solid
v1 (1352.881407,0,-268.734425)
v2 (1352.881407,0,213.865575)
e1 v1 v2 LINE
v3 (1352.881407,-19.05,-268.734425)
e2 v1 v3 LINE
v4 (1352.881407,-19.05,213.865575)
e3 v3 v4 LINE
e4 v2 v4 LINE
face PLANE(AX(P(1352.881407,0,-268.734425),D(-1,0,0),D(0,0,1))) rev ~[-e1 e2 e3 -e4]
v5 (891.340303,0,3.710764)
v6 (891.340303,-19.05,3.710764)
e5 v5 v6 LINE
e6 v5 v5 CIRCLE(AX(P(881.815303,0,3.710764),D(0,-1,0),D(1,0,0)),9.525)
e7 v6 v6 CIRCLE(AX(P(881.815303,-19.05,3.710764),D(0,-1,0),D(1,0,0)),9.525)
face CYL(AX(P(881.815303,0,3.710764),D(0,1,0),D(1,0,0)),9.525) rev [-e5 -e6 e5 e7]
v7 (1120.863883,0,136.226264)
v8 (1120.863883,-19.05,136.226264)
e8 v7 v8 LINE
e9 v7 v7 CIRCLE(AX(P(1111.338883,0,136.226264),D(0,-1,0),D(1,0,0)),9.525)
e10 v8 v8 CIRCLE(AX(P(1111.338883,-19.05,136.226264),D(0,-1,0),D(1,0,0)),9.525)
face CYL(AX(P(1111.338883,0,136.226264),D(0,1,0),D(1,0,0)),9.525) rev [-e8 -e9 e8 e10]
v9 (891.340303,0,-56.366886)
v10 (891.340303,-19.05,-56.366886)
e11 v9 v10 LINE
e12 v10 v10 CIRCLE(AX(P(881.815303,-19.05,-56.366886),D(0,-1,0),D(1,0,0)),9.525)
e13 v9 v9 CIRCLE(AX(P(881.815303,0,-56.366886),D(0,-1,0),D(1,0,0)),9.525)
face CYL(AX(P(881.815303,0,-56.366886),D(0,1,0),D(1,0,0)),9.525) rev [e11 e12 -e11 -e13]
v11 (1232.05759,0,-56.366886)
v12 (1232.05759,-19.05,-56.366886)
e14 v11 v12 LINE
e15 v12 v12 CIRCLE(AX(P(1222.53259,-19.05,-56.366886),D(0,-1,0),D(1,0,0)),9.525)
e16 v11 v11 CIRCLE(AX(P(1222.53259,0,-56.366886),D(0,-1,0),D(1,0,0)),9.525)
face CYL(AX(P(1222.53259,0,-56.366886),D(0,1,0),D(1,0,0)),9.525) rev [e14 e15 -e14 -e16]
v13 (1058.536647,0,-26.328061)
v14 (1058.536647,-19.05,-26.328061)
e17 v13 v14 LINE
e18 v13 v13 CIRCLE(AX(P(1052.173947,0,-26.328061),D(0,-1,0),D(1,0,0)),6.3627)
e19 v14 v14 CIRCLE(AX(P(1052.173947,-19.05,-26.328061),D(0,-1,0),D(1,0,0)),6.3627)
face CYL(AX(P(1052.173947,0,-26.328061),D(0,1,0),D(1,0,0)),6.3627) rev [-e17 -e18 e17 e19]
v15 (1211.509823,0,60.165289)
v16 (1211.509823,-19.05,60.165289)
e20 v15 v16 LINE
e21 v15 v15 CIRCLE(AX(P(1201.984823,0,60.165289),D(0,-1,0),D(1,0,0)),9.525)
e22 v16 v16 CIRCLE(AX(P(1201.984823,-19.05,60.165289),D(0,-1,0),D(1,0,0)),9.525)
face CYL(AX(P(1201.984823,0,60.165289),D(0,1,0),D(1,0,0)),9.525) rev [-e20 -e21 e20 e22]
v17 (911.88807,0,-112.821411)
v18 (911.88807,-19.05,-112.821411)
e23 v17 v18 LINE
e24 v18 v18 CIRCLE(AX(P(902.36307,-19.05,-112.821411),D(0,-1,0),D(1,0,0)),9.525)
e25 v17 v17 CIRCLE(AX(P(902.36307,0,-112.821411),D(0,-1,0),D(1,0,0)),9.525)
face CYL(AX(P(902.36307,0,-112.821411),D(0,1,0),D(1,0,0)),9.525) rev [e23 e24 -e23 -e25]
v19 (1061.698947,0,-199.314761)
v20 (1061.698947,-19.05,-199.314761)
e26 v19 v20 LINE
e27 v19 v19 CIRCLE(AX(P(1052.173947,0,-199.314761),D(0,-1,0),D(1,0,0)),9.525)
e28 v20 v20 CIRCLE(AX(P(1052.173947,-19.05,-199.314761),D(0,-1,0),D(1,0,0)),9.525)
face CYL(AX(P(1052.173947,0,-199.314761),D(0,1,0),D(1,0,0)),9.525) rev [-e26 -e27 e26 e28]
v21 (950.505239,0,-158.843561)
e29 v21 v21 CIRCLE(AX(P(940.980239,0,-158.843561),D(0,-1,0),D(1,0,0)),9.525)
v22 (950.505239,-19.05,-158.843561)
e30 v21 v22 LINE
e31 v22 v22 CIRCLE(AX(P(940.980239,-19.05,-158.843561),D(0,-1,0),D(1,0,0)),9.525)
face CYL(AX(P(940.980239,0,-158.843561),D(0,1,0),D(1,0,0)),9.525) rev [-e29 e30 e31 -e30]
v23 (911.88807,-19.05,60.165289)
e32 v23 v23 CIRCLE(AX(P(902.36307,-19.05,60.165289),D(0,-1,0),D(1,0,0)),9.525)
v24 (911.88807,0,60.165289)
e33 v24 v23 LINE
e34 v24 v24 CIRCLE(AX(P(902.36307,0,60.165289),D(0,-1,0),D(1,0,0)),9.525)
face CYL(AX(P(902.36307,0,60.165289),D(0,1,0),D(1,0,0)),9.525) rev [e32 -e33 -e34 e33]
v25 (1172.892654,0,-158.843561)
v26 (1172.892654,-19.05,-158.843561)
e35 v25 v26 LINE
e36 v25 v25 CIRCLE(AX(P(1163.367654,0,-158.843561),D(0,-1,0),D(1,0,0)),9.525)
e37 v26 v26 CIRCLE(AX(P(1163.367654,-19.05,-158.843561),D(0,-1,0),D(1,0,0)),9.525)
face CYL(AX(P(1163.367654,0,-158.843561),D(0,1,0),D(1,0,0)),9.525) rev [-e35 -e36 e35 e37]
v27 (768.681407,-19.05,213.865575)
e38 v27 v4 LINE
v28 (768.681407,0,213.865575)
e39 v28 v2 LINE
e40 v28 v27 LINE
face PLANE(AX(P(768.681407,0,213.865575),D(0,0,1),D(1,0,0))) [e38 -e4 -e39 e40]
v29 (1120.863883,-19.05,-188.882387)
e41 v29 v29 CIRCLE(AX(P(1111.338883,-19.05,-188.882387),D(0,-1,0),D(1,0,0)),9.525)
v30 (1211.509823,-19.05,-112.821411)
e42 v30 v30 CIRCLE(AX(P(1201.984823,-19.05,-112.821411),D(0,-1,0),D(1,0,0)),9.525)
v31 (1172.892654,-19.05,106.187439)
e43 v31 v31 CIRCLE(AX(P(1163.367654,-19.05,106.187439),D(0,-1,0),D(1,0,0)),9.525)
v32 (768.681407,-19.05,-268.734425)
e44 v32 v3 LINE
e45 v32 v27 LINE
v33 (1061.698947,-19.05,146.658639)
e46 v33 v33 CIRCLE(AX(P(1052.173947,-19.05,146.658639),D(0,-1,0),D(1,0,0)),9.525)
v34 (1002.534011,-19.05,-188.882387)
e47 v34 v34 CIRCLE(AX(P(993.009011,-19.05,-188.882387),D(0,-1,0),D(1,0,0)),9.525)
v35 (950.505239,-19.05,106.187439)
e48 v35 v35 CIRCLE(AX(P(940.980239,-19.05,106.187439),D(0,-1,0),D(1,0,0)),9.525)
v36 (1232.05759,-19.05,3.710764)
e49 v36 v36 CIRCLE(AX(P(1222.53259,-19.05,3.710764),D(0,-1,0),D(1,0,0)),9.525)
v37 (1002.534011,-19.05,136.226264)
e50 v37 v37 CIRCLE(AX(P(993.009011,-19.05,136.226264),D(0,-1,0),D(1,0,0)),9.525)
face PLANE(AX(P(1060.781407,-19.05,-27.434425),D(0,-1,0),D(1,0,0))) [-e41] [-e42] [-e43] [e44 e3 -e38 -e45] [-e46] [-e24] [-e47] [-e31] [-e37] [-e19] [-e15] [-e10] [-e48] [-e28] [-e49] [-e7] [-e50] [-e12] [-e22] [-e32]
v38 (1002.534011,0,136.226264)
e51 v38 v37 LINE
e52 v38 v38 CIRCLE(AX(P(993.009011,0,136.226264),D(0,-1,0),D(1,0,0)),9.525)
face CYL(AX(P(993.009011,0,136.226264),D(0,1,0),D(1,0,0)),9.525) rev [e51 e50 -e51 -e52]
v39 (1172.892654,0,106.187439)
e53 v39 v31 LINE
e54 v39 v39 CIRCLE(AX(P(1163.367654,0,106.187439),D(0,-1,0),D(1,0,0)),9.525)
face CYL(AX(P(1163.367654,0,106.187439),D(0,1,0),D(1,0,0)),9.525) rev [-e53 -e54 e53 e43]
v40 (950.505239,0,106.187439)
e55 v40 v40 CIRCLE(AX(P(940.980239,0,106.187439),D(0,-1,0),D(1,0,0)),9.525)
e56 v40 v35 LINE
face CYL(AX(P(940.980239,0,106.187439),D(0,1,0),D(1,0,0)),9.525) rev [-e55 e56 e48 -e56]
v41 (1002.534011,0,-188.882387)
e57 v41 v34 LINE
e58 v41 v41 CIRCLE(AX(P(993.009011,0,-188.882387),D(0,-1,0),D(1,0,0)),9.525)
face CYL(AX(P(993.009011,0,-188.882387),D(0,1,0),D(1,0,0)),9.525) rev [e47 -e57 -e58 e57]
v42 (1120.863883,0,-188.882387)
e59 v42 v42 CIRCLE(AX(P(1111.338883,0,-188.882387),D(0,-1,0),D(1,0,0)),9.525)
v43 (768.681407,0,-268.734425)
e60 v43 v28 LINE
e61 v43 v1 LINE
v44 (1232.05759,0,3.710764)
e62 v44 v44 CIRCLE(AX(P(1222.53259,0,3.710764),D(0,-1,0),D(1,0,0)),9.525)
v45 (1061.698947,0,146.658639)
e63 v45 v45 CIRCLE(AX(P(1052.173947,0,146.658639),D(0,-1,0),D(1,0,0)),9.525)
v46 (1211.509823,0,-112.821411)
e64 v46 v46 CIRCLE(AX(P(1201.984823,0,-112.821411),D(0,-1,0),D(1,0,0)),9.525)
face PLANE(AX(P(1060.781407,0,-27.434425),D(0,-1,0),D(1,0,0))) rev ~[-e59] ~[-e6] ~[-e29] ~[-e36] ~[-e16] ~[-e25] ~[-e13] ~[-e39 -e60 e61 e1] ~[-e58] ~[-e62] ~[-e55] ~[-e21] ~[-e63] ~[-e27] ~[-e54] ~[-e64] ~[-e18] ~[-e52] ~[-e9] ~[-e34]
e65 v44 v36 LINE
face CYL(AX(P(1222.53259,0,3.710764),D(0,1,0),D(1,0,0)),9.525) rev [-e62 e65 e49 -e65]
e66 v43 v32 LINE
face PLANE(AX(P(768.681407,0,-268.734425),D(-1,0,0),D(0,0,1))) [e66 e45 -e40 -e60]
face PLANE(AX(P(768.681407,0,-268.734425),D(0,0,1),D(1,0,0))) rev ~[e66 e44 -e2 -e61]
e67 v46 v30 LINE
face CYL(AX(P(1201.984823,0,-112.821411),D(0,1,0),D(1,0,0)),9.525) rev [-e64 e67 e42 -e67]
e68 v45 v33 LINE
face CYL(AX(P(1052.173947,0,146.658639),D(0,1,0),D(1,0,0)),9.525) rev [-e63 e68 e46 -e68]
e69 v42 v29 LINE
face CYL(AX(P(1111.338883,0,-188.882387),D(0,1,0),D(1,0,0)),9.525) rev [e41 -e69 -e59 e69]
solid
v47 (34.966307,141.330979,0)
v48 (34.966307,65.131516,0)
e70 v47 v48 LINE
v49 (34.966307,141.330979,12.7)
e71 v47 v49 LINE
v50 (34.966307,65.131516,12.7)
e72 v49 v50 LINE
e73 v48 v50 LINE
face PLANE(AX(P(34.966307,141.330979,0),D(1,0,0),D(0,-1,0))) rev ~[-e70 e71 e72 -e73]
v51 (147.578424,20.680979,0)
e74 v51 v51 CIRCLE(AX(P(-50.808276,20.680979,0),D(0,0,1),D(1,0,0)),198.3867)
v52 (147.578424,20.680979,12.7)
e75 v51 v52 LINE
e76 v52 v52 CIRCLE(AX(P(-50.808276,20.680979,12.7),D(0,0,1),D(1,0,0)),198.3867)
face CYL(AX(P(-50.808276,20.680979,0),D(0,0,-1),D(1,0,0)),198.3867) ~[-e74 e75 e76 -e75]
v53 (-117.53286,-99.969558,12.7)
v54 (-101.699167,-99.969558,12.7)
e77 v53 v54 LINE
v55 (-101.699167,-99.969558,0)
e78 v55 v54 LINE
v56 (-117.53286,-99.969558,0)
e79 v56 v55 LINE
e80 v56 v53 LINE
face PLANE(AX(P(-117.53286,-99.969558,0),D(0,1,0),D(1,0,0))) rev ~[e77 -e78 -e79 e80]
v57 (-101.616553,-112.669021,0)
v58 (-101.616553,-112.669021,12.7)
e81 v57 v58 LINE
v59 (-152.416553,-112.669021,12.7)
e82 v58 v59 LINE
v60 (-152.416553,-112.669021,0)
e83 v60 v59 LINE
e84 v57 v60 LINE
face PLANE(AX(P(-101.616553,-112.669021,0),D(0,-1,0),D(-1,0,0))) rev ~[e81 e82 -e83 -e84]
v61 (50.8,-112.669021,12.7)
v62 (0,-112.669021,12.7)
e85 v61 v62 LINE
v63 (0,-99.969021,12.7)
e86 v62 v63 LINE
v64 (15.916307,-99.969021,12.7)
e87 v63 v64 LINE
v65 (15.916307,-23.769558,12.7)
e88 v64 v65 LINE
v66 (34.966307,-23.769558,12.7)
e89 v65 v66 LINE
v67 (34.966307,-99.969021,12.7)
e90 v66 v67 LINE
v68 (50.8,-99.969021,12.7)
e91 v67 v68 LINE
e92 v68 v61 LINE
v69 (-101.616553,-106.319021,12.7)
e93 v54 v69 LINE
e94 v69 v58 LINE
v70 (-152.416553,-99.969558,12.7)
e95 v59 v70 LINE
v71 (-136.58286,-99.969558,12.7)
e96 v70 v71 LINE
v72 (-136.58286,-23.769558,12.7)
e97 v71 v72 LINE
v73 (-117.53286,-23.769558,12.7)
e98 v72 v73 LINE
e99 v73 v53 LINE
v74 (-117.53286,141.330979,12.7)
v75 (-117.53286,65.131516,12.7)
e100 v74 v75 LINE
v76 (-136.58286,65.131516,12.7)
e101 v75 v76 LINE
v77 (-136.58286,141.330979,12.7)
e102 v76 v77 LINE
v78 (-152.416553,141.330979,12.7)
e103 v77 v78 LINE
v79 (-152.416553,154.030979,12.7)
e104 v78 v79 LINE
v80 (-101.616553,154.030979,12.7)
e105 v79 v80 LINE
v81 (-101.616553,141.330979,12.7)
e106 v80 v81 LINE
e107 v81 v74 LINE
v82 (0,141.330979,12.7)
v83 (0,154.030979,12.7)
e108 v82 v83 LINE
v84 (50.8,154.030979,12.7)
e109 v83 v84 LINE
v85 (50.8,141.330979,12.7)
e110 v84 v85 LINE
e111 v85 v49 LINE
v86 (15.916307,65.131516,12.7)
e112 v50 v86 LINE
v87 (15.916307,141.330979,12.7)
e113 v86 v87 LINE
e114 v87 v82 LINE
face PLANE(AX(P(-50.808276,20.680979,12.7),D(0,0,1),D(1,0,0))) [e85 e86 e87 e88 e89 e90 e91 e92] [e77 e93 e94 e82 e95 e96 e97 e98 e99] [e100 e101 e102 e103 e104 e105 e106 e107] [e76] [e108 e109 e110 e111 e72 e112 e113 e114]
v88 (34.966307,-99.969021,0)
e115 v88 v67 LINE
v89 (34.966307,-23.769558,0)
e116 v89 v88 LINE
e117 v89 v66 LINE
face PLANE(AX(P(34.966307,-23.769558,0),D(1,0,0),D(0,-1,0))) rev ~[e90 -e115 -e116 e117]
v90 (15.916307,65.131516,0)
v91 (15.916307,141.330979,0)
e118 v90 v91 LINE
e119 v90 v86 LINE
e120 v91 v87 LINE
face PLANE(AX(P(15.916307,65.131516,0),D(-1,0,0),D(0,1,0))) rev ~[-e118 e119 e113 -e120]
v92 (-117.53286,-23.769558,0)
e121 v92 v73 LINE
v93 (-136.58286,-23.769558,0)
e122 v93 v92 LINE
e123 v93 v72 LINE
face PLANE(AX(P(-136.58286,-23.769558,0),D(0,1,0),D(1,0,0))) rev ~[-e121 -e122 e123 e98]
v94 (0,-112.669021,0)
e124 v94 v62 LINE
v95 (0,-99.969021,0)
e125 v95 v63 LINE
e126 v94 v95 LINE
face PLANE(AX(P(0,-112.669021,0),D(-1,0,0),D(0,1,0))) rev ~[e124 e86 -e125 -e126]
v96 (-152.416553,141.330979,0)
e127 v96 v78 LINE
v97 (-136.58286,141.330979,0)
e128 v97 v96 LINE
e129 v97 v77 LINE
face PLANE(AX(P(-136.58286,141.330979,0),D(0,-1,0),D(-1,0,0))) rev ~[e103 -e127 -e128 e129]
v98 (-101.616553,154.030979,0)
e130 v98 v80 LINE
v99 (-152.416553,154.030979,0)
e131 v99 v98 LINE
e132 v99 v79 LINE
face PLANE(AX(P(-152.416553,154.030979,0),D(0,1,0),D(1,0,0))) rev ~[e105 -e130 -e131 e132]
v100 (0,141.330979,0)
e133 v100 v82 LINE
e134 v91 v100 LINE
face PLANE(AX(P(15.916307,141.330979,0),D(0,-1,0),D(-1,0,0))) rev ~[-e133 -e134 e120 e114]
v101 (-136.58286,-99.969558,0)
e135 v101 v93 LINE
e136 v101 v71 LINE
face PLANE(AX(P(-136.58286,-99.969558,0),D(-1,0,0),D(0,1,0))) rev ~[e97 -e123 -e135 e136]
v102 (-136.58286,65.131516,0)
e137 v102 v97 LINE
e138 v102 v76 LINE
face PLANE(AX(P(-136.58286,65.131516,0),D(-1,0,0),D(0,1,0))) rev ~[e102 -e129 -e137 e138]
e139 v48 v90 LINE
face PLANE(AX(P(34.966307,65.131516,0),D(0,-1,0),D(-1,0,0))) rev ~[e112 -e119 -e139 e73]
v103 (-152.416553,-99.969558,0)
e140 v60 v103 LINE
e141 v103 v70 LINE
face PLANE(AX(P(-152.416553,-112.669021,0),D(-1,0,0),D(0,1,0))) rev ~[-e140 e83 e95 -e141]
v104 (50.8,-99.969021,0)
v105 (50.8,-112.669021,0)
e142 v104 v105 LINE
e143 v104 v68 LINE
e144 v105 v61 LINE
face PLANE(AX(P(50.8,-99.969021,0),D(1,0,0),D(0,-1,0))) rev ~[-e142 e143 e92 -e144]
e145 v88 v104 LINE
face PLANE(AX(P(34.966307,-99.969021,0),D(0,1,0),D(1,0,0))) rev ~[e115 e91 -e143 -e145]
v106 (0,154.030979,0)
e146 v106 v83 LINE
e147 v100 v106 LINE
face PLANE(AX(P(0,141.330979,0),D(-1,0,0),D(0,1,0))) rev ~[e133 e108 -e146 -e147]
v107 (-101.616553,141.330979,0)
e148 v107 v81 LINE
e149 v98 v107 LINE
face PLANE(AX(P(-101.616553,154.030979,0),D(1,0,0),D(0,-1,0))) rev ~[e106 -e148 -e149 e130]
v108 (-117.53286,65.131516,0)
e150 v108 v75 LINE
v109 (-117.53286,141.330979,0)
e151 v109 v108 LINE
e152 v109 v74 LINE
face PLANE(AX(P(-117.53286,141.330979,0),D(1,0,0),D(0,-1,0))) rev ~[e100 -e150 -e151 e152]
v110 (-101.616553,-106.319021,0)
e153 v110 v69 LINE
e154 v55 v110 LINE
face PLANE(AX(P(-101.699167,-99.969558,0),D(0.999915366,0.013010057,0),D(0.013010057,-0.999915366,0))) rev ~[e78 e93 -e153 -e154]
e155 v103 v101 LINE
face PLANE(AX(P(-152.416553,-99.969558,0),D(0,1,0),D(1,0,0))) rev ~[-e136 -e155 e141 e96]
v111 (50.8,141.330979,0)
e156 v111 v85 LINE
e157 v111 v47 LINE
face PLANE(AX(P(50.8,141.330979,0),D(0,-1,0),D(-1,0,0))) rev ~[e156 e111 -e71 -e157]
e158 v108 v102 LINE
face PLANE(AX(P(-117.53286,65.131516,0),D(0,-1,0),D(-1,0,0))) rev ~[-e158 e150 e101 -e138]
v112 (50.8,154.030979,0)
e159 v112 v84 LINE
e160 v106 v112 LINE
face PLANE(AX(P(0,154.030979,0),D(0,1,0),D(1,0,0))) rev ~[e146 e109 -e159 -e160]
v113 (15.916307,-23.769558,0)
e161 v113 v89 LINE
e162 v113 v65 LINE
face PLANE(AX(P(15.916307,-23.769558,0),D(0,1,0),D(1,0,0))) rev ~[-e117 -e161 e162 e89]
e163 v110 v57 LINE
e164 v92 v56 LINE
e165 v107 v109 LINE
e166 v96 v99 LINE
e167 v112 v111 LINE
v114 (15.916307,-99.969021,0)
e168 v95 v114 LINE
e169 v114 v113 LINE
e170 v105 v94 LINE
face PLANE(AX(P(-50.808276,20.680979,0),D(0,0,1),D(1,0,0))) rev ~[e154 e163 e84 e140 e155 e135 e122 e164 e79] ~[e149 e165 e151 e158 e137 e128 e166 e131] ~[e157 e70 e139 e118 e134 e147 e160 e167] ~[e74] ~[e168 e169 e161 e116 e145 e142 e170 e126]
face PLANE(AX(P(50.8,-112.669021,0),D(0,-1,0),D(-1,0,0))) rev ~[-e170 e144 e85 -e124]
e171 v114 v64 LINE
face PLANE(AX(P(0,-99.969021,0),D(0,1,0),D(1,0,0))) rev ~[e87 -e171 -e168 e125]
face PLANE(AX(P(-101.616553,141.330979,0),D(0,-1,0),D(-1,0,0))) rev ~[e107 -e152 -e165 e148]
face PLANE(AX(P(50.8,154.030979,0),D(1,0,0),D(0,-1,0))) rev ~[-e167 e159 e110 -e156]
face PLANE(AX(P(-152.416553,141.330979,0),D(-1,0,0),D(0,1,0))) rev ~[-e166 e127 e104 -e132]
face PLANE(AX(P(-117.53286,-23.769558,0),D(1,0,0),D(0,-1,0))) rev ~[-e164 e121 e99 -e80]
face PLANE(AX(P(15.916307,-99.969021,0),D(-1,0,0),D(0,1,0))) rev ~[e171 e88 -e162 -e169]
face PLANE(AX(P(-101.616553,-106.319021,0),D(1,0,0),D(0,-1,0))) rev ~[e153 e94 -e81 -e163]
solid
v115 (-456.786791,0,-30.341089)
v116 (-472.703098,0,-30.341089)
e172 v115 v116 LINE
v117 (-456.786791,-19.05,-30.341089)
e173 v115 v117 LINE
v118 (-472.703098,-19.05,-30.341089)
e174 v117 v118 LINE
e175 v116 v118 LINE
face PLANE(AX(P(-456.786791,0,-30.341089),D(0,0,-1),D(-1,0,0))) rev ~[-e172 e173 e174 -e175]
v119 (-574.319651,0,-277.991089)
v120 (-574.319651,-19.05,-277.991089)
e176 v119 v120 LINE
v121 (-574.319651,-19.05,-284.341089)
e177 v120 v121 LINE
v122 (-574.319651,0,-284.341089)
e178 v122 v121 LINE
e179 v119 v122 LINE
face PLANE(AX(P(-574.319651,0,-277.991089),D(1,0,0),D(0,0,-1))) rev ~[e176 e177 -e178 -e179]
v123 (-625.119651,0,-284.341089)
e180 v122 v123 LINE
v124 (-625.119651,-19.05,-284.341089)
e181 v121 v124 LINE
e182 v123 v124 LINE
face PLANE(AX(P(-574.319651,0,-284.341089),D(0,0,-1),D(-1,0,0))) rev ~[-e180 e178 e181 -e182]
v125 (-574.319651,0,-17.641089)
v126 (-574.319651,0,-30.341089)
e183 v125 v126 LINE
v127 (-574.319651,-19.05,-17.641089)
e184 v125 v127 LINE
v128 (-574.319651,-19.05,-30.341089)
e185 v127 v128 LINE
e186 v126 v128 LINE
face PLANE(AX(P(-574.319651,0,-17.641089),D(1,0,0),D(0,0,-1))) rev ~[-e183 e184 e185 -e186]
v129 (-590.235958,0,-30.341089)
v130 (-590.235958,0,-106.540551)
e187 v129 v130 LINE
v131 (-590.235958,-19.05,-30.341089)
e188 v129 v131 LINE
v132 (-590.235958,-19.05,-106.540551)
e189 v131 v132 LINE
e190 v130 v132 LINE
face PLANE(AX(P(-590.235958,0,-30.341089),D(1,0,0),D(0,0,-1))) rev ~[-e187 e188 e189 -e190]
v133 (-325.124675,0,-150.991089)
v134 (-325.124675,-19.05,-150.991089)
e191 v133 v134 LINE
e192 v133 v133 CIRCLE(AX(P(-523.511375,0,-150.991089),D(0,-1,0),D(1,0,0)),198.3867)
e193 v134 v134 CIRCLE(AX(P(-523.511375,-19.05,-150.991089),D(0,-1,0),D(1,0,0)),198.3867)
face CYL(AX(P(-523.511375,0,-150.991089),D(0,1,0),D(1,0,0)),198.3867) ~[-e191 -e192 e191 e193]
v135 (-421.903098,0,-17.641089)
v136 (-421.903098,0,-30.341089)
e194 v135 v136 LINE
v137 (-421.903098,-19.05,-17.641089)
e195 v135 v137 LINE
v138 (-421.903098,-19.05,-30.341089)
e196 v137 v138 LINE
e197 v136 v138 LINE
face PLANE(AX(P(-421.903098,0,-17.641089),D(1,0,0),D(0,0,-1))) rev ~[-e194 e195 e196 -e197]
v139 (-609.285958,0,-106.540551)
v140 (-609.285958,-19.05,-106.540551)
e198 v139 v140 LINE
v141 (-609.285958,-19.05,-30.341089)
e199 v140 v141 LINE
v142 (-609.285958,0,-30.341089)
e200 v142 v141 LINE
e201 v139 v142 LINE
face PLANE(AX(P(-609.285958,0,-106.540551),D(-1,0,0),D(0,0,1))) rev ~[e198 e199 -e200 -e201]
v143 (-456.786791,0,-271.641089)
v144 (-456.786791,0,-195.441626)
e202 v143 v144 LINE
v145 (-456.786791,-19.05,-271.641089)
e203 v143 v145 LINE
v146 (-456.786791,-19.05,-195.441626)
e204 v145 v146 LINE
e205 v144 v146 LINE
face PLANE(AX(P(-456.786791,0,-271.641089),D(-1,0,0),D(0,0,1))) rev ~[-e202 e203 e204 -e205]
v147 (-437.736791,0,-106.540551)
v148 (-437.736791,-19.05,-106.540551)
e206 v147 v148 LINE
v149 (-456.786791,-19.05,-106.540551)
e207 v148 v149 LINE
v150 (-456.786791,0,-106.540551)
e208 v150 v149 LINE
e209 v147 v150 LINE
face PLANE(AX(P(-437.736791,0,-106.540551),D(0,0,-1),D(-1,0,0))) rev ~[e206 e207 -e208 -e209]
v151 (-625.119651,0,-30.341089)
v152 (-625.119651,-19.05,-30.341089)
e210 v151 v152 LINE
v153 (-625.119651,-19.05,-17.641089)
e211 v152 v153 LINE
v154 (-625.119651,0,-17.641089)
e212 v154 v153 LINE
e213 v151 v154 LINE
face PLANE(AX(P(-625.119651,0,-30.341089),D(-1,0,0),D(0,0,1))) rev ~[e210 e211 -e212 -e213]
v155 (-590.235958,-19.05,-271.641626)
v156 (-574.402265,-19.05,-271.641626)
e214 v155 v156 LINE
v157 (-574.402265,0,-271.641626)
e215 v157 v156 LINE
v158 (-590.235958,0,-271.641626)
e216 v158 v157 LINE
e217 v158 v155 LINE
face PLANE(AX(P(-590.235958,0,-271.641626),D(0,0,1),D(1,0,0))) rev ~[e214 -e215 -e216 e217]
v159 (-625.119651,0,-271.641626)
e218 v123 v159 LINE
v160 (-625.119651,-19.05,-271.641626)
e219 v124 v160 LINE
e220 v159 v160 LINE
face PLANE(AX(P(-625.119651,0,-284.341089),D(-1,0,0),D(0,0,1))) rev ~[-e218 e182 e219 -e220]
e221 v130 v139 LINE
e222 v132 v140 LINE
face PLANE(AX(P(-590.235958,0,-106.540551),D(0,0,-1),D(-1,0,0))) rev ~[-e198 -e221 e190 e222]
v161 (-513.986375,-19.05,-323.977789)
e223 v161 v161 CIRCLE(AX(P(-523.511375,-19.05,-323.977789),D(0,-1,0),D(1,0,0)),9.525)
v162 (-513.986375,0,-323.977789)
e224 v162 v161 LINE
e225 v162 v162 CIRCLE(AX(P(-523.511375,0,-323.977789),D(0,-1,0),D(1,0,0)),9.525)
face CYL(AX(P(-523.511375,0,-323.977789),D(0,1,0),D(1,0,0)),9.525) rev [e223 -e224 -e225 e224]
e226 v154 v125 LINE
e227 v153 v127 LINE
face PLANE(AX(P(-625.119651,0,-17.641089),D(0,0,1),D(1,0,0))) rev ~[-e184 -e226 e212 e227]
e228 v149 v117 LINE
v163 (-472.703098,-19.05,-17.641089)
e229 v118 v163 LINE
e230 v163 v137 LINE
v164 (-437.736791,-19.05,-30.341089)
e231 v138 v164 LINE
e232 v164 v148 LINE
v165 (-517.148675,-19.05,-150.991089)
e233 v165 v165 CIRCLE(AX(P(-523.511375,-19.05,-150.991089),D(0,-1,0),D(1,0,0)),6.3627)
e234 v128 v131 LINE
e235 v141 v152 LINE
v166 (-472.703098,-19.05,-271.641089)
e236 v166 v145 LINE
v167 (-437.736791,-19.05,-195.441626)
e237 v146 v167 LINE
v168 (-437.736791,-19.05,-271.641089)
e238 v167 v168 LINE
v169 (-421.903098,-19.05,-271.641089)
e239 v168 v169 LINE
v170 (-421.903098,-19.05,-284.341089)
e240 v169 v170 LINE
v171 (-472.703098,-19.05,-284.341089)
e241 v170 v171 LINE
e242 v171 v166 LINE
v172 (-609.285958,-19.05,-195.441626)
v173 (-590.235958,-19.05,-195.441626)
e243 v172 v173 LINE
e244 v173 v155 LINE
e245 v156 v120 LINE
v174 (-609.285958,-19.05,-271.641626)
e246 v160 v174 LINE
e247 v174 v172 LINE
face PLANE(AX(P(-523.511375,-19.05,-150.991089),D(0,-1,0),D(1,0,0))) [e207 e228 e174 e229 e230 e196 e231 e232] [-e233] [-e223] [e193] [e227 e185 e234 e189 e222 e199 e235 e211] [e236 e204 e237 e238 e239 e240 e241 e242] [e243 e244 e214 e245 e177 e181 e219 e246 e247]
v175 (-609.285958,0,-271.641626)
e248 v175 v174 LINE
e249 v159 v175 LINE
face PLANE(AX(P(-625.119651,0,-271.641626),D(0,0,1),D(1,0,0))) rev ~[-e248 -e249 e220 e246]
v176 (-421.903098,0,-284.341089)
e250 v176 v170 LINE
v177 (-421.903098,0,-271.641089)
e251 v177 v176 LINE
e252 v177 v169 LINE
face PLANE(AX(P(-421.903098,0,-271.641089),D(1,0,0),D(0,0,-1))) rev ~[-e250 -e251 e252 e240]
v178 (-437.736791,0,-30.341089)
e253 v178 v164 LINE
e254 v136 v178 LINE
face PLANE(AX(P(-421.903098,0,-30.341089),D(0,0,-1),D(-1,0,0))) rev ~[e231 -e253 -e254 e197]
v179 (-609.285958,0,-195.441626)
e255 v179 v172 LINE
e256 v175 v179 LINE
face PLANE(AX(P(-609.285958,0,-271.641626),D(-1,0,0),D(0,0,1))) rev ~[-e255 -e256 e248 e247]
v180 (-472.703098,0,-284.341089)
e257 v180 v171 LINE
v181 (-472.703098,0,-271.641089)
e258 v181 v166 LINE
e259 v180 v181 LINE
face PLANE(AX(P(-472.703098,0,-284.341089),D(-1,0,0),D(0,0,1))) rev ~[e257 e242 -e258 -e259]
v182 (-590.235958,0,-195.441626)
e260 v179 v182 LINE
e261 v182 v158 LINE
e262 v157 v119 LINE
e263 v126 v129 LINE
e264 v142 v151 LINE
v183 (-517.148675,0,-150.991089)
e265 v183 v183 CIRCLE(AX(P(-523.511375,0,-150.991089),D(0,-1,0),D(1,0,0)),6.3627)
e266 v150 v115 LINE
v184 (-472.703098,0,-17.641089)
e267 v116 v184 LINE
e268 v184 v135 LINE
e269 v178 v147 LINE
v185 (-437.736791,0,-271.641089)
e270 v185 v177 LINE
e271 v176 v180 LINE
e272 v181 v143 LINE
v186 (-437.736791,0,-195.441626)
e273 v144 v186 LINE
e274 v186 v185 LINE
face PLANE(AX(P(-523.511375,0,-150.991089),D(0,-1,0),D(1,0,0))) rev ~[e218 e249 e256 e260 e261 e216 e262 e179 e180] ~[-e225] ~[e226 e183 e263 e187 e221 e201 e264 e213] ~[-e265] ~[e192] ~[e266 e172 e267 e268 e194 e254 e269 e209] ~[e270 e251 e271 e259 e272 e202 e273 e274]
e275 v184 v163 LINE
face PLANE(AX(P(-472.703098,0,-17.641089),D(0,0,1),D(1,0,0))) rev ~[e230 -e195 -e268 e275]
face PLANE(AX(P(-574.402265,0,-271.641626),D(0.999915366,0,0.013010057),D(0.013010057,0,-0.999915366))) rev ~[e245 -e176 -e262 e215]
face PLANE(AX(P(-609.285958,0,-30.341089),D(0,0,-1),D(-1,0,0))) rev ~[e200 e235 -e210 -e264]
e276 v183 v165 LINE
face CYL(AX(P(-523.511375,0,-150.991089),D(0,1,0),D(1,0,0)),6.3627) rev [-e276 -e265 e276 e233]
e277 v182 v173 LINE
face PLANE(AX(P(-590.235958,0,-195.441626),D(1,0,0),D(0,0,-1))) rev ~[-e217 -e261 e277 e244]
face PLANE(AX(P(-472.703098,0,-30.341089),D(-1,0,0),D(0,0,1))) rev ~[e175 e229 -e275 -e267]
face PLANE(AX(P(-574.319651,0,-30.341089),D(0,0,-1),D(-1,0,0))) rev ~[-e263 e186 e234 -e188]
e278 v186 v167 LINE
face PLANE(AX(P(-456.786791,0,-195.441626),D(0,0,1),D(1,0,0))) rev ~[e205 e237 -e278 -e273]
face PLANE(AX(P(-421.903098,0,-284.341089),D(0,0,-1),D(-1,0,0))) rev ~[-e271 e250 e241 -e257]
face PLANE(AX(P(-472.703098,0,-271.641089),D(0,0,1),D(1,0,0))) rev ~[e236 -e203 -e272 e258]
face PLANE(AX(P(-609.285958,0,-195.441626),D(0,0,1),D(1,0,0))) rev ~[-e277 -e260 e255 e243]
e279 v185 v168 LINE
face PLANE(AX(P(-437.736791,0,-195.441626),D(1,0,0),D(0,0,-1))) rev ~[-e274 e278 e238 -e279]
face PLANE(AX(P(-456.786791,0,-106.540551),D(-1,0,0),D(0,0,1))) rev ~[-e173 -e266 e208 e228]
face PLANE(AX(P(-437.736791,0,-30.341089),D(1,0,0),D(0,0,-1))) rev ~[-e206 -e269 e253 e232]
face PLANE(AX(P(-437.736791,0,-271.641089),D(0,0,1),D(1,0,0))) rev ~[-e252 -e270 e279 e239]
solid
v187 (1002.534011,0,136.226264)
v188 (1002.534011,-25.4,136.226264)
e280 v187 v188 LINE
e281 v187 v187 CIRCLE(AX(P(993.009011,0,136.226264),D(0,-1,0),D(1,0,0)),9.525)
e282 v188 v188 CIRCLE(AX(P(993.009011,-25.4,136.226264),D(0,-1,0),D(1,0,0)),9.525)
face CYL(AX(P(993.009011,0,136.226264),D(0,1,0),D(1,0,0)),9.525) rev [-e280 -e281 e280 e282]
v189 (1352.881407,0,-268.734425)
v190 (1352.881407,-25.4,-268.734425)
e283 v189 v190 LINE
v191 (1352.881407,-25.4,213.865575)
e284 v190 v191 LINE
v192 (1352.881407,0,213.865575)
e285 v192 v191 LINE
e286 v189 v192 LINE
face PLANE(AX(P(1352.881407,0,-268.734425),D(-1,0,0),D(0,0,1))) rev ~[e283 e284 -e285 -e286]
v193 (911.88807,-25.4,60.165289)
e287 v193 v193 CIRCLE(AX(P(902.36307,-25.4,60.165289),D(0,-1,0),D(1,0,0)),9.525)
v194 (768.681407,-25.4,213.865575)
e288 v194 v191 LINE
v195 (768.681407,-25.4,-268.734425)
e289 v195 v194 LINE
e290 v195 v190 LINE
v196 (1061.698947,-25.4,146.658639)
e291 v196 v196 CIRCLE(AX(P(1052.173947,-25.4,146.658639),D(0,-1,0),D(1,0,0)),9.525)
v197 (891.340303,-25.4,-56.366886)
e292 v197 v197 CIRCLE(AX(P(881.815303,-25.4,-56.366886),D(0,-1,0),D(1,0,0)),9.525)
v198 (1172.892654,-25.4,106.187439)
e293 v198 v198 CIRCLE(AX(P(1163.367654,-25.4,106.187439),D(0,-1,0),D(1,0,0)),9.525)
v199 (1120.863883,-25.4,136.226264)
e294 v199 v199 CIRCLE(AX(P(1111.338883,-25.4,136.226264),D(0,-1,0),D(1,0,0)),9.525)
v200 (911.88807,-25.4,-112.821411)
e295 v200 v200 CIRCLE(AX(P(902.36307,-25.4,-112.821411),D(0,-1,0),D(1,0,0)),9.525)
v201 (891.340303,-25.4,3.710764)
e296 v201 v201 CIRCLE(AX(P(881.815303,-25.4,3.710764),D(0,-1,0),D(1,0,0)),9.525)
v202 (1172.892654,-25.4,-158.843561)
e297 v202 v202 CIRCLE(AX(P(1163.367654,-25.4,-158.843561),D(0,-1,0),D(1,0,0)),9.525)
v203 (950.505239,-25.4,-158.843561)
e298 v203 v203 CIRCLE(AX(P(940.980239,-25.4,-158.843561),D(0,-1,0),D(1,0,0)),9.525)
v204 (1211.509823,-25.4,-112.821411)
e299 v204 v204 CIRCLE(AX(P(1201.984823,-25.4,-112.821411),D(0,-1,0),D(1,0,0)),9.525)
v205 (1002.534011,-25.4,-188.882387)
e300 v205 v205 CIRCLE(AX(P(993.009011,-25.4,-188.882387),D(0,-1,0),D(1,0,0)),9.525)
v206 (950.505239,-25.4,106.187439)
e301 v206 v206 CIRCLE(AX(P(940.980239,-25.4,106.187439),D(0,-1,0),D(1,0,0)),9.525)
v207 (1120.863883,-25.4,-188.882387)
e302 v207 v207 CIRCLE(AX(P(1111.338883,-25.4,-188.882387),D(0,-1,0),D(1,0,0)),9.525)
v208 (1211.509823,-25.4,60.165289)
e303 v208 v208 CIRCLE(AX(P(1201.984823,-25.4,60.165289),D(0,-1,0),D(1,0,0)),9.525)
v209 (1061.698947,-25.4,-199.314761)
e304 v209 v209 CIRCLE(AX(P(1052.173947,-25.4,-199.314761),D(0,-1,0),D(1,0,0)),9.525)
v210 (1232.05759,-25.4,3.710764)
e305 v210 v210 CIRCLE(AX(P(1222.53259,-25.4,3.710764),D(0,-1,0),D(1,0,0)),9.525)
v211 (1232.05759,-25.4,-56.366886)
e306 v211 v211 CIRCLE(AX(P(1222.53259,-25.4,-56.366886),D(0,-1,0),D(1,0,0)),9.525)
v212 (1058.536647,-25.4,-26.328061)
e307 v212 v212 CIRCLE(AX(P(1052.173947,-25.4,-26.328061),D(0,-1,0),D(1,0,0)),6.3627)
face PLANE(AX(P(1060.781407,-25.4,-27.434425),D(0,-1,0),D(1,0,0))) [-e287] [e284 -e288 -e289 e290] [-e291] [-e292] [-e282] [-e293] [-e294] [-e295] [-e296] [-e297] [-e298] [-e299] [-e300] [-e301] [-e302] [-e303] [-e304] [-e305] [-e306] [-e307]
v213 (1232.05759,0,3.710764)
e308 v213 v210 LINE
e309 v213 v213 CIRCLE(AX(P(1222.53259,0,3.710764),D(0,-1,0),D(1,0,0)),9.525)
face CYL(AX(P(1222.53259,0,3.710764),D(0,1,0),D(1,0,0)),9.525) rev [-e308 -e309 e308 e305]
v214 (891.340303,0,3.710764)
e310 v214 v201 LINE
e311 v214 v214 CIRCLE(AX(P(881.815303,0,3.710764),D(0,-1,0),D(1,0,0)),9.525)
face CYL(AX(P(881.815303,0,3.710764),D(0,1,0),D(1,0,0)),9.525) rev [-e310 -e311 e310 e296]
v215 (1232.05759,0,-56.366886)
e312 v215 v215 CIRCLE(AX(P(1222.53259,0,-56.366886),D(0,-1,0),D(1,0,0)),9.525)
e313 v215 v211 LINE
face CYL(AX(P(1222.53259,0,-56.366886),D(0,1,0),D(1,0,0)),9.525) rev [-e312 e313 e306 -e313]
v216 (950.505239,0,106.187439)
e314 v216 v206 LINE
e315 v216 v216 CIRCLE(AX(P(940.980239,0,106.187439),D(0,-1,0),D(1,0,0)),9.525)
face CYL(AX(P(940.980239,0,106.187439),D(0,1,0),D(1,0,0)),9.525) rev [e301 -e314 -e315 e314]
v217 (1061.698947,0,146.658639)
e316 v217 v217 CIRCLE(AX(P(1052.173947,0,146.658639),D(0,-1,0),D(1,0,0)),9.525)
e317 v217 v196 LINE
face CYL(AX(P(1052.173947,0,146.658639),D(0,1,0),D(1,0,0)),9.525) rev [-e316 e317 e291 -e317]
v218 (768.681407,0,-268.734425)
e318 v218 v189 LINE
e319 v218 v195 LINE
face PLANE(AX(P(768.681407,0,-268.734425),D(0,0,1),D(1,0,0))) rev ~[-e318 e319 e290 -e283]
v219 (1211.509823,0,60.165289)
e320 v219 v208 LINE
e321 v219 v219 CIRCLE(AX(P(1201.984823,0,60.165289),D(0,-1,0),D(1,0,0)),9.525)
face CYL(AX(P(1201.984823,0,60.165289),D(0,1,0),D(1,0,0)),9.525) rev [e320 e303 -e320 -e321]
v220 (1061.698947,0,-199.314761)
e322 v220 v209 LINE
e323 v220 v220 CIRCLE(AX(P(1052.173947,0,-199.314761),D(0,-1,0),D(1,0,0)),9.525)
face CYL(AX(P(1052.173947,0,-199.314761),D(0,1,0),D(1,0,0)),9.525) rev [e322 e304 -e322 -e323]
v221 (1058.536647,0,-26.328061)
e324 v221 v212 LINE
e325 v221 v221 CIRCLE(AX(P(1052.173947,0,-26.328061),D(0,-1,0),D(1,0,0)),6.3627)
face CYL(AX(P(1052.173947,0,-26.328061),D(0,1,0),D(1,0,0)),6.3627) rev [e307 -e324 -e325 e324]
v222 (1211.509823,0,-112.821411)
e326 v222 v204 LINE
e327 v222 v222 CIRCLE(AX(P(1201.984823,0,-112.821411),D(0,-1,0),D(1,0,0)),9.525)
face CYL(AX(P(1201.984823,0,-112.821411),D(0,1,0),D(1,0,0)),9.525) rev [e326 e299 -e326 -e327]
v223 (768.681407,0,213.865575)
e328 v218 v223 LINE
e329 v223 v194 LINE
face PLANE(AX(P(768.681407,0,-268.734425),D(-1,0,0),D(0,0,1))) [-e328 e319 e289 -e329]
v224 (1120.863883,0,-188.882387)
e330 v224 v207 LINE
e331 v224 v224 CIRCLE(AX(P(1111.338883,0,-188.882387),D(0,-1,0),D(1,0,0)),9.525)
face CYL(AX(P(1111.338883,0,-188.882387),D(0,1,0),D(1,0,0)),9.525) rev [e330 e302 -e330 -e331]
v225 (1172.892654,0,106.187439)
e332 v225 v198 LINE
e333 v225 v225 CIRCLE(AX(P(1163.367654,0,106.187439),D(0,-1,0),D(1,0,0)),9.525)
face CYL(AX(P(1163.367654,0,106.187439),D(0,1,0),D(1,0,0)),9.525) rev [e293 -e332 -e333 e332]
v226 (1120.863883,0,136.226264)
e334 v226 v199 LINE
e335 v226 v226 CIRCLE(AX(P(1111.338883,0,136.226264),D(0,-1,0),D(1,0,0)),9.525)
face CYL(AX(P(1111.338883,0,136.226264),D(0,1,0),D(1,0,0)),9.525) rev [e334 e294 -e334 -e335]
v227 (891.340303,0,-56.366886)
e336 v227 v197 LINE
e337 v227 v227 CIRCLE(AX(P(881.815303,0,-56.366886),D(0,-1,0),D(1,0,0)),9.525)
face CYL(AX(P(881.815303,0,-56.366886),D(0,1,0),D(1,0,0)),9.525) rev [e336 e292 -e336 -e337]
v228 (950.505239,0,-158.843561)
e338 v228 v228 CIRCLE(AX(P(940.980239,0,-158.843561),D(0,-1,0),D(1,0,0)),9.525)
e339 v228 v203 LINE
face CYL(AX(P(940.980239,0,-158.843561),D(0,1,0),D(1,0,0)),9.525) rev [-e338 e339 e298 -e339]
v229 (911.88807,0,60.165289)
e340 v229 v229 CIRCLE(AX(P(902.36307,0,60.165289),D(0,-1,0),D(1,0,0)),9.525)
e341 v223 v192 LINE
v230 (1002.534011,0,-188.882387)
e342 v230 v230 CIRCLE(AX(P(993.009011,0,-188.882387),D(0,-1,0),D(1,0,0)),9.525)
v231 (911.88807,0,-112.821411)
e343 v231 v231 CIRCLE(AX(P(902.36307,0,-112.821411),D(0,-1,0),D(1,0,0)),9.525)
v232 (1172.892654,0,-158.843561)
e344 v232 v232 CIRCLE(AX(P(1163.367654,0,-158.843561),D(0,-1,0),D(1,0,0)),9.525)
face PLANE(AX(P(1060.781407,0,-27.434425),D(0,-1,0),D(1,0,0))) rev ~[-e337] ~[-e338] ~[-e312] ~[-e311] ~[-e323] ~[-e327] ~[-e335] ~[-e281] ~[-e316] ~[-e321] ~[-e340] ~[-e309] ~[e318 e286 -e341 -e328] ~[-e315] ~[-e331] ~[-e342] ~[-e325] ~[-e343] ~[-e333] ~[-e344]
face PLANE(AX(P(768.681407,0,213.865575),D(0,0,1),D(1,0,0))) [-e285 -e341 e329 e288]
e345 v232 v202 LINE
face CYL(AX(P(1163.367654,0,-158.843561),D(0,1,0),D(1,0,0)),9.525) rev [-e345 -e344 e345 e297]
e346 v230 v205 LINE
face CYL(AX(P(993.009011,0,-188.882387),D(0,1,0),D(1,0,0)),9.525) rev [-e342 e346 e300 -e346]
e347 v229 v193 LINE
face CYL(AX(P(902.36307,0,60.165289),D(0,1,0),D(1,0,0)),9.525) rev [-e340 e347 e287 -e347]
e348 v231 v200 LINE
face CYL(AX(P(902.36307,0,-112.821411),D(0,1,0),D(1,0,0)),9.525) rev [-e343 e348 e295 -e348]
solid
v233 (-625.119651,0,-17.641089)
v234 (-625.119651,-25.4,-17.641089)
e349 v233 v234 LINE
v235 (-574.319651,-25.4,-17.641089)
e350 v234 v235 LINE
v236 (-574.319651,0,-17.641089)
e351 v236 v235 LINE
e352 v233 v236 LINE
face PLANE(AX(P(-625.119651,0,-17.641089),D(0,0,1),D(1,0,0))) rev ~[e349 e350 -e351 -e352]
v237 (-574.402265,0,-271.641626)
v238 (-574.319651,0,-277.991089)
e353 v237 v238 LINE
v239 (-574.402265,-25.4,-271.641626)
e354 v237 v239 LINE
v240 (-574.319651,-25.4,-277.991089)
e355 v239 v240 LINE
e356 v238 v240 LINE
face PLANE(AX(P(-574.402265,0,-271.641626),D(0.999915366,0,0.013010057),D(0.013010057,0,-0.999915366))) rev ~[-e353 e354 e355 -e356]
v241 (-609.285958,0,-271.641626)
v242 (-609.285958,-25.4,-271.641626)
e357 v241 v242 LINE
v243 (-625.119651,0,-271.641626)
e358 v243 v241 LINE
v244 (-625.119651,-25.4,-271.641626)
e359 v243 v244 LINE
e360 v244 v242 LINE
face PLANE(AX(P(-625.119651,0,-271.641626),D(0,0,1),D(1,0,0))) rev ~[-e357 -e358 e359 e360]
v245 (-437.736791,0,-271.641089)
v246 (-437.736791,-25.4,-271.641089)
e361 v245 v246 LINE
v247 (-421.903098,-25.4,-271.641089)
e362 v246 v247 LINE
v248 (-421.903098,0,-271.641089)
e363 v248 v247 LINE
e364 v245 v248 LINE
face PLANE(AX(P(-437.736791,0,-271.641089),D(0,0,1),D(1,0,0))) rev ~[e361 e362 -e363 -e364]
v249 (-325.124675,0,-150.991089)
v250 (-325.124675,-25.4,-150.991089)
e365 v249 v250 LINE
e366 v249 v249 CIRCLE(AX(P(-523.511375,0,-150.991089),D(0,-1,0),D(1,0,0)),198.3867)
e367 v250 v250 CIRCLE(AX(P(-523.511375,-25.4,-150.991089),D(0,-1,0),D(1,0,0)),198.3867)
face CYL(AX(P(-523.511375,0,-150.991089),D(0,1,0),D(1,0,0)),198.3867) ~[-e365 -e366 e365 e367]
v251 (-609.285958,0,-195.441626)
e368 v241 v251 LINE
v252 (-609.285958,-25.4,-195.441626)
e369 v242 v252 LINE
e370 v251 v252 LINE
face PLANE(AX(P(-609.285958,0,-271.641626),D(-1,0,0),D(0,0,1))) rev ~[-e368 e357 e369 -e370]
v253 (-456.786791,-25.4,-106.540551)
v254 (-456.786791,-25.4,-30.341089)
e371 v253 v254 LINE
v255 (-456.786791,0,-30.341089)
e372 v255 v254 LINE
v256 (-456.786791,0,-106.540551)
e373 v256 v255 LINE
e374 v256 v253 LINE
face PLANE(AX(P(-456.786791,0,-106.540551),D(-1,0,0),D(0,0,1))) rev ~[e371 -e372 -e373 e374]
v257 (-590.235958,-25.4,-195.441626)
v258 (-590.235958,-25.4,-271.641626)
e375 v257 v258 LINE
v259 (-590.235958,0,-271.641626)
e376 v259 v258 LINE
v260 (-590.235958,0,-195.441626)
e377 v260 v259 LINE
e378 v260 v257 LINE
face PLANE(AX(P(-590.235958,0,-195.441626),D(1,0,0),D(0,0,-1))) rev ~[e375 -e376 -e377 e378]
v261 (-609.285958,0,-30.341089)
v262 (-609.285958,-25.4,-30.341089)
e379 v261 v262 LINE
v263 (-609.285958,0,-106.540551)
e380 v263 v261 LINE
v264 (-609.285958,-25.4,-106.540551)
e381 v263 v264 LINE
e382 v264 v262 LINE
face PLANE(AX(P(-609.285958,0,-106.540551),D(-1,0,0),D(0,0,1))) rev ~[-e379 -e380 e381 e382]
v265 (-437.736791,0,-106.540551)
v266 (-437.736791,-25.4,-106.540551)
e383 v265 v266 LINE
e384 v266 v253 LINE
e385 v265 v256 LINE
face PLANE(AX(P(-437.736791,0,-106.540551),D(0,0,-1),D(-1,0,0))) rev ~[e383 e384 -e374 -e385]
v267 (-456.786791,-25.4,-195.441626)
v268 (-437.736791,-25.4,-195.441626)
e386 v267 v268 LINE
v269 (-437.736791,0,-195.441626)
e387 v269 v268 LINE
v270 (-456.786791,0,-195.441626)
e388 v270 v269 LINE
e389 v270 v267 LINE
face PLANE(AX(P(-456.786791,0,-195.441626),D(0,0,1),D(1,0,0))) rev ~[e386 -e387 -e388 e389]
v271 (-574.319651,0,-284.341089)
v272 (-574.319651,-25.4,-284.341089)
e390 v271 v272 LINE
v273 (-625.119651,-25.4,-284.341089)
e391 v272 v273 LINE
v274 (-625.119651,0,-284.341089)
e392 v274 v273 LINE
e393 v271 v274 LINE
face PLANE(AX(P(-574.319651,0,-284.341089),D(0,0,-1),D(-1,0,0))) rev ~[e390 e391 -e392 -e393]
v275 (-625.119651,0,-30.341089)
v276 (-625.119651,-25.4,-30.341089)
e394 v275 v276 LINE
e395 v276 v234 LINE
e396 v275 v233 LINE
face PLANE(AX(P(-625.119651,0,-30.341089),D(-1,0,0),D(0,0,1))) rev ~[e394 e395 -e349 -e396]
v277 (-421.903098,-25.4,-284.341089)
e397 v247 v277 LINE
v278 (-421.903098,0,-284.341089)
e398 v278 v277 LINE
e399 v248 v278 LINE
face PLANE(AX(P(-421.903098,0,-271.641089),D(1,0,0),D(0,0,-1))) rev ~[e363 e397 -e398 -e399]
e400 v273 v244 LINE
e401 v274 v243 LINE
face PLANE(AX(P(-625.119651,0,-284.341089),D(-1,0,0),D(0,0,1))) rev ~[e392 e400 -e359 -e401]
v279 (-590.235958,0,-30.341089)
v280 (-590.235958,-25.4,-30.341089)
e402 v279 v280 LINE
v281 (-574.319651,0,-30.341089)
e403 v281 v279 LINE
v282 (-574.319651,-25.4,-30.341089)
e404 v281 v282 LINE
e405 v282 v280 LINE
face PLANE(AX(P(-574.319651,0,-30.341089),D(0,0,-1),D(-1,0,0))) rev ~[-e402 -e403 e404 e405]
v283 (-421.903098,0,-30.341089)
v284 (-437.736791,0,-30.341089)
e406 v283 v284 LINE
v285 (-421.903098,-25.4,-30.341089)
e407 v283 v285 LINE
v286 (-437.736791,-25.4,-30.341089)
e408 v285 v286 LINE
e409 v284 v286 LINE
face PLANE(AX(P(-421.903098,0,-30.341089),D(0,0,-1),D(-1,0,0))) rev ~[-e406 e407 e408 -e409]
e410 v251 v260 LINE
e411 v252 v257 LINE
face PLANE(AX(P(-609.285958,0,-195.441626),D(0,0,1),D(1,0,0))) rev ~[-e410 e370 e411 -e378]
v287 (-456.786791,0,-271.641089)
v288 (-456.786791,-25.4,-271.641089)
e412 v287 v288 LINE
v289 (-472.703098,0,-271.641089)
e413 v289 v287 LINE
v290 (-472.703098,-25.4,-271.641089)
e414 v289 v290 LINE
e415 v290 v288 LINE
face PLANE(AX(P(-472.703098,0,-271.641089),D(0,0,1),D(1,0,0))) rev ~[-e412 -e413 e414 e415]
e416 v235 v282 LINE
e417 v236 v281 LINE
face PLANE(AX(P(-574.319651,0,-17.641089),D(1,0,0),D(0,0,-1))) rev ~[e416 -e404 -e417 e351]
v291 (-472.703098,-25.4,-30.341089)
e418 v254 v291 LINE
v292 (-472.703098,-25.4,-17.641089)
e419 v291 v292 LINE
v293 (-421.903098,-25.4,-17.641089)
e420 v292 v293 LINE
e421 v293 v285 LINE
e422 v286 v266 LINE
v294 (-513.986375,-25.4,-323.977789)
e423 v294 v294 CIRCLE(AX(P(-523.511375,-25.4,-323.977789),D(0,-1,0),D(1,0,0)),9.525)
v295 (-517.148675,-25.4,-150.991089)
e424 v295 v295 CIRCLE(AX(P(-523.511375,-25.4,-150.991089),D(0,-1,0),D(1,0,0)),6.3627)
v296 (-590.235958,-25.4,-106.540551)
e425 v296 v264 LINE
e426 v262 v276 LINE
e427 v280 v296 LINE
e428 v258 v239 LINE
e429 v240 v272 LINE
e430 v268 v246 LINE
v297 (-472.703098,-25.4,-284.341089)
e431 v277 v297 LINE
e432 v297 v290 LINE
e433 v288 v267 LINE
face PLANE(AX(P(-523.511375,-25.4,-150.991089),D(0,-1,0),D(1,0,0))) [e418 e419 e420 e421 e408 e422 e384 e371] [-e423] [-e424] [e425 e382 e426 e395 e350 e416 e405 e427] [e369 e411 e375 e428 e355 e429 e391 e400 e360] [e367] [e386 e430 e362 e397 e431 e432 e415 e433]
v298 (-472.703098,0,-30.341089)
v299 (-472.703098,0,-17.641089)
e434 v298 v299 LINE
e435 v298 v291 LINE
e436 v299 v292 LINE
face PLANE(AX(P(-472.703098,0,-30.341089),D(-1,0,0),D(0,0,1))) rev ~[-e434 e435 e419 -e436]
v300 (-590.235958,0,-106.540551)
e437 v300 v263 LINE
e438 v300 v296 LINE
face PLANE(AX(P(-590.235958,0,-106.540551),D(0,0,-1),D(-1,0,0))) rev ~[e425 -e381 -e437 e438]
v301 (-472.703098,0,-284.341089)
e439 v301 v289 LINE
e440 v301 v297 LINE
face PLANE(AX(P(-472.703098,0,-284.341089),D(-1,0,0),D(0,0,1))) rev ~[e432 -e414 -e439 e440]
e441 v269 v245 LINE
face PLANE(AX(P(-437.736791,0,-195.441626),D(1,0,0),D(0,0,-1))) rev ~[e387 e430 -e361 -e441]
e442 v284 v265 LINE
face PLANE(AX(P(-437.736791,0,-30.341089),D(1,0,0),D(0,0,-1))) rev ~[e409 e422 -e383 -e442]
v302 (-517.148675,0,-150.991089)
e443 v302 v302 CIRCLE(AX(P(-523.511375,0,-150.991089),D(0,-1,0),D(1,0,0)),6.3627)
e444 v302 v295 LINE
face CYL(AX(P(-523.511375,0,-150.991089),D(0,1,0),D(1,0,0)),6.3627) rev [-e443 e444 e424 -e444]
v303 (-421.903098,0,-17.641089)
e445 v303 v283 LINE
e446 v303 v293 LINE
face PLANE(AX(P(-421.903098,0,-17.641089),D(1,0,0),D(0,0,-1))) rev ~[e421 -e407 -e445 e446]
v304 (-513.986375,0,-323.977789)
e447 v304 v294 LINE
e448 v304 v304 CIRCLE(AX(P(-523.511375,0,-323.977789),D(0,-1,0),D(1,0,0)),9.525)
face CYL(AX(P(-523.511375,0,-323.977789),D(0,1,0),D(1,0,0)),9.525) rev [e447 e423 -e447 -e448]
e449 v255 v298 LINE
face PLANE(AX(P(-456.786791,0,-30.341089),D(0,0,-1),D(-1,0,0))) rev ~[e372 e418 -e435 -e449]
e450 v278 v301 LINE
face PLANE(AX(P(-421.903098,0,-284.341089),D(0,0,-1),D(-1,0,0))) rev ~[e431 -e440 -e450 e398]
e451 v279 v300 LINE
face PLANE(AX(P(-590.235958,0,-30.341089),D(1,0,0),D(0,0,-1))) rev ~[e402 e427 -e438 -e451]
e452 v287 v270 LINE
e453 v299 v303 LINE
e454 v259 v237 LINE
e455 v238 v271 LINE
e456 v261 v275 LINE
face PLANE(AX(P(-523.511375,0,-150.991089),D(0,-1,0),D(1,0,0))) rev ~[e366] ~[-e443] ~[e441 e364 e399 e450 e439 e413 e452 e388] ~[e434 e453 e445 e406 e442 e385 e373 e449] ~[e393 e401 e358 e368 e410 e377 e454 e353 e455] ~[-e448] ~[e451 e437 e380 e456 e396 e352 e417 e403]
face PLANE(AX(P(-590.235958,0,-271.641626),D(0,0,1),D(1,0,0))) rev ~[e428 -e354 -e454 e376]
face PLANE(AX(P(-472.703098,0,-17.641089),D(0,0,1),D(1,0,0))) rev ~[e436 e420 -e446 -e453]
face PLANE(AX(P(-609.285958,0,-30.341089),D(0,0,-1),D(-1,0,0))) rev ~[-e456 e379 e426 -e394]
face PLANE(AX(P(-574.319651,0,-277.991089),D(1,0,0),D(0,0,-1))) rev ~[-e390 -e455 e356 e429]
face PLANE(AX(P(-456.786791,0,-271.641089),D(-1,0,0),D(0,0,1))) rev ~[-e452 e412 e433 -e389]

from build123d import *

# Parameters (mm, degrees)
F0_R     = 198.3867
F1_DEPTH = 12.7
F2_R     = 198.3867
F2_R_2   = 9.525
F2_R_3   = 6.3627
F3_DEPTH = 25.4
F2_W     = 584.2
F2_H     = 482.6
F4_DEPTH = 19.05


with BuildPart() as f1:
    # F0 (on Top) → F1 (new body)
    with BuildSketch(Plane.XY):
        with Locations((-50.8082764711, 20.6809789749)):
            Circle(F0_R)
        Polygon((-152.4165529422, -112.6690210251), (-152.4165529422, -106.3190210251), (-152.4165529422, -99.9695584533), (-136.5828598721, -99.9695584533), (-136.5828598721, -23.7695584533), (-127.0578598721, -23.7695584533), (-117.5328598721, -23.7695584533), (-117.5328598721, -99.9695584533), (-101.699166802, -99.9695584533), (-101.6165529422, -106.3190210251), (-101.6165529422, -112.6690210251), align=None, mode=Mode.SUBTRACT)
        Polygon((0, -112.6690210251), (0, -106.3190210251), (0, -99.9690210251), (15.9163069299, -99.9690210251), (15.9163069299, -23.7695584533), (25.4413069299, -23.7695584533), (34.9663069299, -23.7695584533), (34.9663069299, -99.9690210251), (50.8, -99.9690210251), (50.8, -106.3190210251), (50.8, -112.6690210251), align=None, mode=Mode.SUBTRACT)
        Polygon((-152.4165529422, 141.3309789749), (-152.4165529422, 147.6809789749), (-152.4165529422, 154.0309789749), (-101.6165529422, 154.0309789749), (-101.6165529422, 147.6809789749), (-101.6165529422, 141.3309789749), (-117.5328598721, 141.3309789749), (-117.5328598721, 65.1315164031), (-127.0578598721, 65.1315164031), (-136.5828598721, 65.1315164031), (-136.5828598721, 141.3309789749), align=None, mode=Mode.SUBTRACT)
        Polygon((0, 141.3309789749), (0, 147.6809789749), (0, 154.0309789749), (50.8, 154.0309789749), (50.8, 147.6809789749), (50.8, 141.3309789749), (34.9663069299, 141.3309789749), (34.9663069299, 65.1315164031), (25.4413069299, 65.1315164031), (15.9163069299, 65.1315164031), (15.9163069299, 141.3309789749), align=None, mode=Mode.SUBTRACT)
    extrude(amount=F1_DEPTH)


with BuildPart() as f3:
    # F2 (on Front) → F3 (new body)
    with BuildSketch(Plane.XZ):
        with Locations((-523.5113747018, -150.9910885598)):
            Circle(F2_R)
        with Locations((-523.5113747018, -323.9777885598)):
            Circle(F2_R_2, mode=Mode.SUBTRACT)
        Polygon((-625.1196511729, -284.3410885598), (-625.1196511729, -277.9910885598), (-625.1196511729, -271.6416259881), (-609.2859581028, -271.6416259881), (-609.2859581028, -195.4416259881), (-599.7609581028, -195.4416259881), (-590.2359581028, -195.4416259881), (-590.2359581028, -271.6416259881), (-574.4022650327, -271.6416259881), (-574.3196511729, -277.9910885598), (-574.3196511729, -284.3410885598), align=None, mode=Mode.SUBTRACT)
        Polygon((-472.7030982307, -284.3410885598), (-472.7030982307, -277.9910885598), (-472.7030982307, -271.6410885598), (-456.7867913009, -271.6410885598), (-456.7867913009, -195.4416259881), (-447.2617913009, -195.4416259881), (-437.7367913009, -195.4416259881), (-437.7367913009, -271.6410885598), (-421.9030982307, -271.6410885598), (-421.9030982307, -277.9910885598), (-421.9030982307, -284.3410885598), align=None, mode=Mode.SUBTRACT)
        with Locations((-523.5113747018, -150.9910885598)):
            Circle(F2_R_3, mode=Mode.SUBTRACT)
        Polygon((-625.1196511729, -30.3410885598), (-625.1196511729, -23.9910885598), (-625.1196511729, -17.6410885598), (-574.3196511729, -17.6410885598), (-574.3196511729, -23.9910885598), (-574.3196511729, -30.3410885598), (-590.2359581028, -30.3410885598), (-590.2359581028, -106.5405511316), (-599.7609581028, -106.5405511316), (-609.2859581028, -106.5405511316), (-609.2859581028, -30.3410885598), align=None, mode=Mode.SUBTRACT)
        Polygon((-472.7030982307, -30.3410885598), (-472.7030982307, -23.9910885598), (-472.7030982307, -17.6410885598), (-421.9030982307, -17.6410885598), (-421.9030982307, -23.9910885598), (-421.9030982307, -30.3410885598), (-437.7367913009, -30.3410885598), (-437.7367913009, -106.5405511316), (-447.2617913009, -106.5405511316), (-456.7867913009, -106.5405511316), (-456.7867913009, -30.3410885598), align=None, mode=Mode.SUBTRACT)
    extrude(amount=F3_DEPTH)


with BuildPart() as f3b:
    # F2 (on Front) → F3, piece 2 (new body)
    with BuildSketch(Plane.XZ):
        with Locations((1060.7814069748, -27.4344253063)):
            Rectangle(F2_W, F2_H)
        with Locations((1052.1739467706, -199.3147611038)):
            Circle(F2_R_2, mode=Mode.SUBTRACT)
        with Locations((993.0090108432, -188.8823865879)):
            Circle(F2_R_2, mode=Mode.SUBTRACT)
        with Locations((940.9802393701, -158.8435613723)):
            Circle(F2_R_2, mode=Mode.SUBTRACT)
        with Locations((1111.3388826981, -188.8823865879)):
            Circle(F2_R_2, mode=Mode.SUBTRACT)
        with Locations((1163.3676541712, -158.8435613723)):
            Circle(F2_R_2, mode=Mode.SUBTRACT)
        with Locations((902.3630700538, -112.8214111038)):
            Circle(F2_R_2, mode=Mode.SUBTRACT)
        with Locations((1201.9848234875, -112.8214111038)):
            Circle(F2_R_2, mode=Mode.SUBTRACT)
        with Locations((881.8153034426, -56.3668863194)):
            Circle(F2_R_2, mode=Mode.SUBTRACT)
        with Locations((1052.1739467706, -26.3280611038)):
            Circle(F2_R_3, mode=Mode.SUBTRACT)
        with Locations((1222.5325900986, -56.3668863194)):
            Circle(F2_R_2, mode=Mode.SUBTRACT)
        with Locations((881.8153034426, 3.7107641118)):
            Circle(F2_R_2, mode=Mode.SUBTRACT)
        with Locations((902.3630700538, 60.1652888962)):
            Circle(F2_R_2, mode=Mode.SUBTRACT)
        with Locations((1222.5325900986, 3.7107641118)):
            Circle(F2_R_2, mode=Mode.SUBTRACT)
        with Locations((1201.9848234875, 60.1652888962)):
            Circle(F2_R_2, mode=Mode.SUBTRACT)
        with Locations((940.9802393701, 106.1874391647)):
            Circle(F2_R_2, mode=Mode.SUBTRACT)
        with Locations((993.0090108432, 136.2262643803)):
            Circle(F2_R_2, mode=Mode.SUBTRACT)
        with Locations((1163.3676541712, 106.1874391647)):
            Circle(F2_R_2, mode=Mode.SUBTRACT)
        with Locations((1111.3388826981, 136.2262643803)):
            Circle(F2_R_2, mode=Mode.SUBTRACT)
        with Locations((1052.1739467706, 146.6586388962)):
            Circle(F2_R_2, mode=Mode.SUBTRACT)
    extrude(amount=F3_DEPTH)


with BuildPart() as f4:
    # F2 (on Front) → F4 (new body)
    with BuildSketch(Plane.XZ):
        with Locations((-523.5113747018, -150.9910885598)):
            Circle(F2_R)
        with Locations((-523.5113747018, -323.9777885598)):
            Circle(F2_R_2, mode=Mode.SUBTRACT)
        Polygon((-625.1196511729, -284.3410885598), (-625.1196511729, -277.9910885598), (-625.1196511729, -271.6416259881), (-609.2859581028, -271.6416259881), (-609.2859581028, -195.4416259881), (-599.7609581028, -195.4416259881), (-590.2359581028, -195.4416259881), (-590.2359581028, -271.6416259881), (-574.4022650327, -271.6416259881), (-574.3196511729, -277.9910885598), (-574.3196511729, -284.3410885598), align=None, mode=Mode.SUBTRACT)
        Polygon((-472.7030982307, -284.3410885598), (-472.7030982307, -277.9910885598), (-472.7030982307, -271.6410885598), (-456.7867913009, -271.6410885598), (-456.7867913009, -195.4416259881), (-447.2617913009, -195.4416259881), (-437.7367913009, -195.4416259881), (-437.7367913009, -271.6410885598), (-421.9030982307, -271.6410885598), (-421.9030982307, -277.9910885598), (-421.9030982307, -284.3410885598), align=None, mode=Mode.SUBTRACT)
        with Locations((-523.5113747018, -150.9910885598)):
            Circle(F2_R_3, mode=Mode.SUBTRACT)
        Polygon((-625.1196511729, -30.3410885598), (-625.1196511729, -23.9910885598), (-625.1196511729, -17.6410885598), (-574.3196511729, -17.6410885598), (-574.3196511729, -23.9910885598), (-574.3196511729, -30.3410885598), (-590.2359581028, -30.3410885598), (-590.2359581028, -106.5405511316), (-599.7609581028, -106.5405511316), (-609.2859581028, -106.5405511316), (-609.2859581028, -30.3410885598), align=None, mode=Mode.SUBTRACT)
        Polygon((-472.7030982307, -30.3410885598), (-472.7030982307, -23.9910885598), (-472.7030982307, -17.6410885598), (-421.9030982307, -17.6410885598), (-421.9030982307, -23.9910885598), (-421.9030982307, -30.3410885598), (-437.7367913009, -30.3410885598), (-437.7367913009, -106.5405511316), (-447.2617913009, -106.5405511316), (-456.7867913009, -106.5405511316), (-456.7867913009, -30.3410885598), align=None, mode=Mode.SUBTRACT)
    extrude(amount=F4_DEPTH)


with BuildPart() as f4b:
    # F2 (on Front) → F4, piece 2 (new body)
    with BuildSketch(Plane.XZ):
        with Locations((1060.7814069748, -27.4344253063)):
            Rectangle(F2_W, F2_H)
        with Locations((1052.1739467706, -199.3147611038)):
            Circle(F2_R_2, mode=Mode.SUBTRACT)
        with Locations((993.0090108432, -188.8823865879)):
            Circle(F2_R_2, mode=Mode.SUBTRACT)
        with Locations((940.9802393701, -158.8435613723)):
            Circle(F2_R_2, mode=Mode.SUBTRACT)
        with Locations((1111.3388826981, -188.8823865879)):
            Circle(F2_R_2, mode=Mode.SUBTRACT)
        with Locations((1163.3676541712, -158.8435613723)):
            Circle(F2_R_2, mode=Mode.SUBTRACT)
        with Locations((902.3630700538, -112.8214111038)):
            Circle(F2_R_2, mode=Mode.SUBTRACT)
        with Locations((1201.9848234875, -112.8214111038)):
            Circle(F2_R_2, mode=Mode.SUBTRACT)
        with Locations((881.8153034426, -56.3668863194)):
            Circle(F2_R_2, mode=Mode.SUBTRACT)
        with Locations((1052.1739467706, -26.3280611038)):
            Circle(F2_R_3, mode=Mode.SUBTRACT)
        with Locations((1222.5325900986, -56.3668863194)):
            Circle(F2_R_2, mode=Mode.SUBTRACT)
        with Locations((881.8153034426, 3.7107641118)):
            Circle(F2_R_2, mode=Mode.SUBTRACT)
        with Locations((902.3630700538, 60.1652888962)):
            Circle(F2_R_2, mode=Mode.SUBTRACT)
        with Locations((1222.5325900986, 3.7107641118)):
            Circle(F2_R_2, mode=Mode.SUBTRACT)
        with Locations((1201.9848234875, 60.1652888962)):
            Circle(F2_R_2, mode=Mode.SUBTRACT)
        with Locations((940.9802393701, 106.1874391647)):
            Circle(F2_R_2, mode=Mode.SUBTRACT)
        with Locations((993.0090108432, 136.2262643803)):
            Circle(F2_R_2, mode=Mode.SUBTRACT)
        with Locations((1163.3676541712, 106.1874391647)):
            Circle(F2_R_2, mode=Mode.SUBTRACT)
        with Locations((1111.3388826981, 136.2262643803)):
            Circle(F2_R_2, mode=Mode.SUBTRACT)
        with Locations((1052.1739467706, 146.6586388962)):
            Circle(F2_R_2, mode=Mode.SUBTRACT)
    extrude(amount=F4_DEPTH)


solid = Compound([f1.part, f3.part, f3b.part, f4.part, f4b.part])
